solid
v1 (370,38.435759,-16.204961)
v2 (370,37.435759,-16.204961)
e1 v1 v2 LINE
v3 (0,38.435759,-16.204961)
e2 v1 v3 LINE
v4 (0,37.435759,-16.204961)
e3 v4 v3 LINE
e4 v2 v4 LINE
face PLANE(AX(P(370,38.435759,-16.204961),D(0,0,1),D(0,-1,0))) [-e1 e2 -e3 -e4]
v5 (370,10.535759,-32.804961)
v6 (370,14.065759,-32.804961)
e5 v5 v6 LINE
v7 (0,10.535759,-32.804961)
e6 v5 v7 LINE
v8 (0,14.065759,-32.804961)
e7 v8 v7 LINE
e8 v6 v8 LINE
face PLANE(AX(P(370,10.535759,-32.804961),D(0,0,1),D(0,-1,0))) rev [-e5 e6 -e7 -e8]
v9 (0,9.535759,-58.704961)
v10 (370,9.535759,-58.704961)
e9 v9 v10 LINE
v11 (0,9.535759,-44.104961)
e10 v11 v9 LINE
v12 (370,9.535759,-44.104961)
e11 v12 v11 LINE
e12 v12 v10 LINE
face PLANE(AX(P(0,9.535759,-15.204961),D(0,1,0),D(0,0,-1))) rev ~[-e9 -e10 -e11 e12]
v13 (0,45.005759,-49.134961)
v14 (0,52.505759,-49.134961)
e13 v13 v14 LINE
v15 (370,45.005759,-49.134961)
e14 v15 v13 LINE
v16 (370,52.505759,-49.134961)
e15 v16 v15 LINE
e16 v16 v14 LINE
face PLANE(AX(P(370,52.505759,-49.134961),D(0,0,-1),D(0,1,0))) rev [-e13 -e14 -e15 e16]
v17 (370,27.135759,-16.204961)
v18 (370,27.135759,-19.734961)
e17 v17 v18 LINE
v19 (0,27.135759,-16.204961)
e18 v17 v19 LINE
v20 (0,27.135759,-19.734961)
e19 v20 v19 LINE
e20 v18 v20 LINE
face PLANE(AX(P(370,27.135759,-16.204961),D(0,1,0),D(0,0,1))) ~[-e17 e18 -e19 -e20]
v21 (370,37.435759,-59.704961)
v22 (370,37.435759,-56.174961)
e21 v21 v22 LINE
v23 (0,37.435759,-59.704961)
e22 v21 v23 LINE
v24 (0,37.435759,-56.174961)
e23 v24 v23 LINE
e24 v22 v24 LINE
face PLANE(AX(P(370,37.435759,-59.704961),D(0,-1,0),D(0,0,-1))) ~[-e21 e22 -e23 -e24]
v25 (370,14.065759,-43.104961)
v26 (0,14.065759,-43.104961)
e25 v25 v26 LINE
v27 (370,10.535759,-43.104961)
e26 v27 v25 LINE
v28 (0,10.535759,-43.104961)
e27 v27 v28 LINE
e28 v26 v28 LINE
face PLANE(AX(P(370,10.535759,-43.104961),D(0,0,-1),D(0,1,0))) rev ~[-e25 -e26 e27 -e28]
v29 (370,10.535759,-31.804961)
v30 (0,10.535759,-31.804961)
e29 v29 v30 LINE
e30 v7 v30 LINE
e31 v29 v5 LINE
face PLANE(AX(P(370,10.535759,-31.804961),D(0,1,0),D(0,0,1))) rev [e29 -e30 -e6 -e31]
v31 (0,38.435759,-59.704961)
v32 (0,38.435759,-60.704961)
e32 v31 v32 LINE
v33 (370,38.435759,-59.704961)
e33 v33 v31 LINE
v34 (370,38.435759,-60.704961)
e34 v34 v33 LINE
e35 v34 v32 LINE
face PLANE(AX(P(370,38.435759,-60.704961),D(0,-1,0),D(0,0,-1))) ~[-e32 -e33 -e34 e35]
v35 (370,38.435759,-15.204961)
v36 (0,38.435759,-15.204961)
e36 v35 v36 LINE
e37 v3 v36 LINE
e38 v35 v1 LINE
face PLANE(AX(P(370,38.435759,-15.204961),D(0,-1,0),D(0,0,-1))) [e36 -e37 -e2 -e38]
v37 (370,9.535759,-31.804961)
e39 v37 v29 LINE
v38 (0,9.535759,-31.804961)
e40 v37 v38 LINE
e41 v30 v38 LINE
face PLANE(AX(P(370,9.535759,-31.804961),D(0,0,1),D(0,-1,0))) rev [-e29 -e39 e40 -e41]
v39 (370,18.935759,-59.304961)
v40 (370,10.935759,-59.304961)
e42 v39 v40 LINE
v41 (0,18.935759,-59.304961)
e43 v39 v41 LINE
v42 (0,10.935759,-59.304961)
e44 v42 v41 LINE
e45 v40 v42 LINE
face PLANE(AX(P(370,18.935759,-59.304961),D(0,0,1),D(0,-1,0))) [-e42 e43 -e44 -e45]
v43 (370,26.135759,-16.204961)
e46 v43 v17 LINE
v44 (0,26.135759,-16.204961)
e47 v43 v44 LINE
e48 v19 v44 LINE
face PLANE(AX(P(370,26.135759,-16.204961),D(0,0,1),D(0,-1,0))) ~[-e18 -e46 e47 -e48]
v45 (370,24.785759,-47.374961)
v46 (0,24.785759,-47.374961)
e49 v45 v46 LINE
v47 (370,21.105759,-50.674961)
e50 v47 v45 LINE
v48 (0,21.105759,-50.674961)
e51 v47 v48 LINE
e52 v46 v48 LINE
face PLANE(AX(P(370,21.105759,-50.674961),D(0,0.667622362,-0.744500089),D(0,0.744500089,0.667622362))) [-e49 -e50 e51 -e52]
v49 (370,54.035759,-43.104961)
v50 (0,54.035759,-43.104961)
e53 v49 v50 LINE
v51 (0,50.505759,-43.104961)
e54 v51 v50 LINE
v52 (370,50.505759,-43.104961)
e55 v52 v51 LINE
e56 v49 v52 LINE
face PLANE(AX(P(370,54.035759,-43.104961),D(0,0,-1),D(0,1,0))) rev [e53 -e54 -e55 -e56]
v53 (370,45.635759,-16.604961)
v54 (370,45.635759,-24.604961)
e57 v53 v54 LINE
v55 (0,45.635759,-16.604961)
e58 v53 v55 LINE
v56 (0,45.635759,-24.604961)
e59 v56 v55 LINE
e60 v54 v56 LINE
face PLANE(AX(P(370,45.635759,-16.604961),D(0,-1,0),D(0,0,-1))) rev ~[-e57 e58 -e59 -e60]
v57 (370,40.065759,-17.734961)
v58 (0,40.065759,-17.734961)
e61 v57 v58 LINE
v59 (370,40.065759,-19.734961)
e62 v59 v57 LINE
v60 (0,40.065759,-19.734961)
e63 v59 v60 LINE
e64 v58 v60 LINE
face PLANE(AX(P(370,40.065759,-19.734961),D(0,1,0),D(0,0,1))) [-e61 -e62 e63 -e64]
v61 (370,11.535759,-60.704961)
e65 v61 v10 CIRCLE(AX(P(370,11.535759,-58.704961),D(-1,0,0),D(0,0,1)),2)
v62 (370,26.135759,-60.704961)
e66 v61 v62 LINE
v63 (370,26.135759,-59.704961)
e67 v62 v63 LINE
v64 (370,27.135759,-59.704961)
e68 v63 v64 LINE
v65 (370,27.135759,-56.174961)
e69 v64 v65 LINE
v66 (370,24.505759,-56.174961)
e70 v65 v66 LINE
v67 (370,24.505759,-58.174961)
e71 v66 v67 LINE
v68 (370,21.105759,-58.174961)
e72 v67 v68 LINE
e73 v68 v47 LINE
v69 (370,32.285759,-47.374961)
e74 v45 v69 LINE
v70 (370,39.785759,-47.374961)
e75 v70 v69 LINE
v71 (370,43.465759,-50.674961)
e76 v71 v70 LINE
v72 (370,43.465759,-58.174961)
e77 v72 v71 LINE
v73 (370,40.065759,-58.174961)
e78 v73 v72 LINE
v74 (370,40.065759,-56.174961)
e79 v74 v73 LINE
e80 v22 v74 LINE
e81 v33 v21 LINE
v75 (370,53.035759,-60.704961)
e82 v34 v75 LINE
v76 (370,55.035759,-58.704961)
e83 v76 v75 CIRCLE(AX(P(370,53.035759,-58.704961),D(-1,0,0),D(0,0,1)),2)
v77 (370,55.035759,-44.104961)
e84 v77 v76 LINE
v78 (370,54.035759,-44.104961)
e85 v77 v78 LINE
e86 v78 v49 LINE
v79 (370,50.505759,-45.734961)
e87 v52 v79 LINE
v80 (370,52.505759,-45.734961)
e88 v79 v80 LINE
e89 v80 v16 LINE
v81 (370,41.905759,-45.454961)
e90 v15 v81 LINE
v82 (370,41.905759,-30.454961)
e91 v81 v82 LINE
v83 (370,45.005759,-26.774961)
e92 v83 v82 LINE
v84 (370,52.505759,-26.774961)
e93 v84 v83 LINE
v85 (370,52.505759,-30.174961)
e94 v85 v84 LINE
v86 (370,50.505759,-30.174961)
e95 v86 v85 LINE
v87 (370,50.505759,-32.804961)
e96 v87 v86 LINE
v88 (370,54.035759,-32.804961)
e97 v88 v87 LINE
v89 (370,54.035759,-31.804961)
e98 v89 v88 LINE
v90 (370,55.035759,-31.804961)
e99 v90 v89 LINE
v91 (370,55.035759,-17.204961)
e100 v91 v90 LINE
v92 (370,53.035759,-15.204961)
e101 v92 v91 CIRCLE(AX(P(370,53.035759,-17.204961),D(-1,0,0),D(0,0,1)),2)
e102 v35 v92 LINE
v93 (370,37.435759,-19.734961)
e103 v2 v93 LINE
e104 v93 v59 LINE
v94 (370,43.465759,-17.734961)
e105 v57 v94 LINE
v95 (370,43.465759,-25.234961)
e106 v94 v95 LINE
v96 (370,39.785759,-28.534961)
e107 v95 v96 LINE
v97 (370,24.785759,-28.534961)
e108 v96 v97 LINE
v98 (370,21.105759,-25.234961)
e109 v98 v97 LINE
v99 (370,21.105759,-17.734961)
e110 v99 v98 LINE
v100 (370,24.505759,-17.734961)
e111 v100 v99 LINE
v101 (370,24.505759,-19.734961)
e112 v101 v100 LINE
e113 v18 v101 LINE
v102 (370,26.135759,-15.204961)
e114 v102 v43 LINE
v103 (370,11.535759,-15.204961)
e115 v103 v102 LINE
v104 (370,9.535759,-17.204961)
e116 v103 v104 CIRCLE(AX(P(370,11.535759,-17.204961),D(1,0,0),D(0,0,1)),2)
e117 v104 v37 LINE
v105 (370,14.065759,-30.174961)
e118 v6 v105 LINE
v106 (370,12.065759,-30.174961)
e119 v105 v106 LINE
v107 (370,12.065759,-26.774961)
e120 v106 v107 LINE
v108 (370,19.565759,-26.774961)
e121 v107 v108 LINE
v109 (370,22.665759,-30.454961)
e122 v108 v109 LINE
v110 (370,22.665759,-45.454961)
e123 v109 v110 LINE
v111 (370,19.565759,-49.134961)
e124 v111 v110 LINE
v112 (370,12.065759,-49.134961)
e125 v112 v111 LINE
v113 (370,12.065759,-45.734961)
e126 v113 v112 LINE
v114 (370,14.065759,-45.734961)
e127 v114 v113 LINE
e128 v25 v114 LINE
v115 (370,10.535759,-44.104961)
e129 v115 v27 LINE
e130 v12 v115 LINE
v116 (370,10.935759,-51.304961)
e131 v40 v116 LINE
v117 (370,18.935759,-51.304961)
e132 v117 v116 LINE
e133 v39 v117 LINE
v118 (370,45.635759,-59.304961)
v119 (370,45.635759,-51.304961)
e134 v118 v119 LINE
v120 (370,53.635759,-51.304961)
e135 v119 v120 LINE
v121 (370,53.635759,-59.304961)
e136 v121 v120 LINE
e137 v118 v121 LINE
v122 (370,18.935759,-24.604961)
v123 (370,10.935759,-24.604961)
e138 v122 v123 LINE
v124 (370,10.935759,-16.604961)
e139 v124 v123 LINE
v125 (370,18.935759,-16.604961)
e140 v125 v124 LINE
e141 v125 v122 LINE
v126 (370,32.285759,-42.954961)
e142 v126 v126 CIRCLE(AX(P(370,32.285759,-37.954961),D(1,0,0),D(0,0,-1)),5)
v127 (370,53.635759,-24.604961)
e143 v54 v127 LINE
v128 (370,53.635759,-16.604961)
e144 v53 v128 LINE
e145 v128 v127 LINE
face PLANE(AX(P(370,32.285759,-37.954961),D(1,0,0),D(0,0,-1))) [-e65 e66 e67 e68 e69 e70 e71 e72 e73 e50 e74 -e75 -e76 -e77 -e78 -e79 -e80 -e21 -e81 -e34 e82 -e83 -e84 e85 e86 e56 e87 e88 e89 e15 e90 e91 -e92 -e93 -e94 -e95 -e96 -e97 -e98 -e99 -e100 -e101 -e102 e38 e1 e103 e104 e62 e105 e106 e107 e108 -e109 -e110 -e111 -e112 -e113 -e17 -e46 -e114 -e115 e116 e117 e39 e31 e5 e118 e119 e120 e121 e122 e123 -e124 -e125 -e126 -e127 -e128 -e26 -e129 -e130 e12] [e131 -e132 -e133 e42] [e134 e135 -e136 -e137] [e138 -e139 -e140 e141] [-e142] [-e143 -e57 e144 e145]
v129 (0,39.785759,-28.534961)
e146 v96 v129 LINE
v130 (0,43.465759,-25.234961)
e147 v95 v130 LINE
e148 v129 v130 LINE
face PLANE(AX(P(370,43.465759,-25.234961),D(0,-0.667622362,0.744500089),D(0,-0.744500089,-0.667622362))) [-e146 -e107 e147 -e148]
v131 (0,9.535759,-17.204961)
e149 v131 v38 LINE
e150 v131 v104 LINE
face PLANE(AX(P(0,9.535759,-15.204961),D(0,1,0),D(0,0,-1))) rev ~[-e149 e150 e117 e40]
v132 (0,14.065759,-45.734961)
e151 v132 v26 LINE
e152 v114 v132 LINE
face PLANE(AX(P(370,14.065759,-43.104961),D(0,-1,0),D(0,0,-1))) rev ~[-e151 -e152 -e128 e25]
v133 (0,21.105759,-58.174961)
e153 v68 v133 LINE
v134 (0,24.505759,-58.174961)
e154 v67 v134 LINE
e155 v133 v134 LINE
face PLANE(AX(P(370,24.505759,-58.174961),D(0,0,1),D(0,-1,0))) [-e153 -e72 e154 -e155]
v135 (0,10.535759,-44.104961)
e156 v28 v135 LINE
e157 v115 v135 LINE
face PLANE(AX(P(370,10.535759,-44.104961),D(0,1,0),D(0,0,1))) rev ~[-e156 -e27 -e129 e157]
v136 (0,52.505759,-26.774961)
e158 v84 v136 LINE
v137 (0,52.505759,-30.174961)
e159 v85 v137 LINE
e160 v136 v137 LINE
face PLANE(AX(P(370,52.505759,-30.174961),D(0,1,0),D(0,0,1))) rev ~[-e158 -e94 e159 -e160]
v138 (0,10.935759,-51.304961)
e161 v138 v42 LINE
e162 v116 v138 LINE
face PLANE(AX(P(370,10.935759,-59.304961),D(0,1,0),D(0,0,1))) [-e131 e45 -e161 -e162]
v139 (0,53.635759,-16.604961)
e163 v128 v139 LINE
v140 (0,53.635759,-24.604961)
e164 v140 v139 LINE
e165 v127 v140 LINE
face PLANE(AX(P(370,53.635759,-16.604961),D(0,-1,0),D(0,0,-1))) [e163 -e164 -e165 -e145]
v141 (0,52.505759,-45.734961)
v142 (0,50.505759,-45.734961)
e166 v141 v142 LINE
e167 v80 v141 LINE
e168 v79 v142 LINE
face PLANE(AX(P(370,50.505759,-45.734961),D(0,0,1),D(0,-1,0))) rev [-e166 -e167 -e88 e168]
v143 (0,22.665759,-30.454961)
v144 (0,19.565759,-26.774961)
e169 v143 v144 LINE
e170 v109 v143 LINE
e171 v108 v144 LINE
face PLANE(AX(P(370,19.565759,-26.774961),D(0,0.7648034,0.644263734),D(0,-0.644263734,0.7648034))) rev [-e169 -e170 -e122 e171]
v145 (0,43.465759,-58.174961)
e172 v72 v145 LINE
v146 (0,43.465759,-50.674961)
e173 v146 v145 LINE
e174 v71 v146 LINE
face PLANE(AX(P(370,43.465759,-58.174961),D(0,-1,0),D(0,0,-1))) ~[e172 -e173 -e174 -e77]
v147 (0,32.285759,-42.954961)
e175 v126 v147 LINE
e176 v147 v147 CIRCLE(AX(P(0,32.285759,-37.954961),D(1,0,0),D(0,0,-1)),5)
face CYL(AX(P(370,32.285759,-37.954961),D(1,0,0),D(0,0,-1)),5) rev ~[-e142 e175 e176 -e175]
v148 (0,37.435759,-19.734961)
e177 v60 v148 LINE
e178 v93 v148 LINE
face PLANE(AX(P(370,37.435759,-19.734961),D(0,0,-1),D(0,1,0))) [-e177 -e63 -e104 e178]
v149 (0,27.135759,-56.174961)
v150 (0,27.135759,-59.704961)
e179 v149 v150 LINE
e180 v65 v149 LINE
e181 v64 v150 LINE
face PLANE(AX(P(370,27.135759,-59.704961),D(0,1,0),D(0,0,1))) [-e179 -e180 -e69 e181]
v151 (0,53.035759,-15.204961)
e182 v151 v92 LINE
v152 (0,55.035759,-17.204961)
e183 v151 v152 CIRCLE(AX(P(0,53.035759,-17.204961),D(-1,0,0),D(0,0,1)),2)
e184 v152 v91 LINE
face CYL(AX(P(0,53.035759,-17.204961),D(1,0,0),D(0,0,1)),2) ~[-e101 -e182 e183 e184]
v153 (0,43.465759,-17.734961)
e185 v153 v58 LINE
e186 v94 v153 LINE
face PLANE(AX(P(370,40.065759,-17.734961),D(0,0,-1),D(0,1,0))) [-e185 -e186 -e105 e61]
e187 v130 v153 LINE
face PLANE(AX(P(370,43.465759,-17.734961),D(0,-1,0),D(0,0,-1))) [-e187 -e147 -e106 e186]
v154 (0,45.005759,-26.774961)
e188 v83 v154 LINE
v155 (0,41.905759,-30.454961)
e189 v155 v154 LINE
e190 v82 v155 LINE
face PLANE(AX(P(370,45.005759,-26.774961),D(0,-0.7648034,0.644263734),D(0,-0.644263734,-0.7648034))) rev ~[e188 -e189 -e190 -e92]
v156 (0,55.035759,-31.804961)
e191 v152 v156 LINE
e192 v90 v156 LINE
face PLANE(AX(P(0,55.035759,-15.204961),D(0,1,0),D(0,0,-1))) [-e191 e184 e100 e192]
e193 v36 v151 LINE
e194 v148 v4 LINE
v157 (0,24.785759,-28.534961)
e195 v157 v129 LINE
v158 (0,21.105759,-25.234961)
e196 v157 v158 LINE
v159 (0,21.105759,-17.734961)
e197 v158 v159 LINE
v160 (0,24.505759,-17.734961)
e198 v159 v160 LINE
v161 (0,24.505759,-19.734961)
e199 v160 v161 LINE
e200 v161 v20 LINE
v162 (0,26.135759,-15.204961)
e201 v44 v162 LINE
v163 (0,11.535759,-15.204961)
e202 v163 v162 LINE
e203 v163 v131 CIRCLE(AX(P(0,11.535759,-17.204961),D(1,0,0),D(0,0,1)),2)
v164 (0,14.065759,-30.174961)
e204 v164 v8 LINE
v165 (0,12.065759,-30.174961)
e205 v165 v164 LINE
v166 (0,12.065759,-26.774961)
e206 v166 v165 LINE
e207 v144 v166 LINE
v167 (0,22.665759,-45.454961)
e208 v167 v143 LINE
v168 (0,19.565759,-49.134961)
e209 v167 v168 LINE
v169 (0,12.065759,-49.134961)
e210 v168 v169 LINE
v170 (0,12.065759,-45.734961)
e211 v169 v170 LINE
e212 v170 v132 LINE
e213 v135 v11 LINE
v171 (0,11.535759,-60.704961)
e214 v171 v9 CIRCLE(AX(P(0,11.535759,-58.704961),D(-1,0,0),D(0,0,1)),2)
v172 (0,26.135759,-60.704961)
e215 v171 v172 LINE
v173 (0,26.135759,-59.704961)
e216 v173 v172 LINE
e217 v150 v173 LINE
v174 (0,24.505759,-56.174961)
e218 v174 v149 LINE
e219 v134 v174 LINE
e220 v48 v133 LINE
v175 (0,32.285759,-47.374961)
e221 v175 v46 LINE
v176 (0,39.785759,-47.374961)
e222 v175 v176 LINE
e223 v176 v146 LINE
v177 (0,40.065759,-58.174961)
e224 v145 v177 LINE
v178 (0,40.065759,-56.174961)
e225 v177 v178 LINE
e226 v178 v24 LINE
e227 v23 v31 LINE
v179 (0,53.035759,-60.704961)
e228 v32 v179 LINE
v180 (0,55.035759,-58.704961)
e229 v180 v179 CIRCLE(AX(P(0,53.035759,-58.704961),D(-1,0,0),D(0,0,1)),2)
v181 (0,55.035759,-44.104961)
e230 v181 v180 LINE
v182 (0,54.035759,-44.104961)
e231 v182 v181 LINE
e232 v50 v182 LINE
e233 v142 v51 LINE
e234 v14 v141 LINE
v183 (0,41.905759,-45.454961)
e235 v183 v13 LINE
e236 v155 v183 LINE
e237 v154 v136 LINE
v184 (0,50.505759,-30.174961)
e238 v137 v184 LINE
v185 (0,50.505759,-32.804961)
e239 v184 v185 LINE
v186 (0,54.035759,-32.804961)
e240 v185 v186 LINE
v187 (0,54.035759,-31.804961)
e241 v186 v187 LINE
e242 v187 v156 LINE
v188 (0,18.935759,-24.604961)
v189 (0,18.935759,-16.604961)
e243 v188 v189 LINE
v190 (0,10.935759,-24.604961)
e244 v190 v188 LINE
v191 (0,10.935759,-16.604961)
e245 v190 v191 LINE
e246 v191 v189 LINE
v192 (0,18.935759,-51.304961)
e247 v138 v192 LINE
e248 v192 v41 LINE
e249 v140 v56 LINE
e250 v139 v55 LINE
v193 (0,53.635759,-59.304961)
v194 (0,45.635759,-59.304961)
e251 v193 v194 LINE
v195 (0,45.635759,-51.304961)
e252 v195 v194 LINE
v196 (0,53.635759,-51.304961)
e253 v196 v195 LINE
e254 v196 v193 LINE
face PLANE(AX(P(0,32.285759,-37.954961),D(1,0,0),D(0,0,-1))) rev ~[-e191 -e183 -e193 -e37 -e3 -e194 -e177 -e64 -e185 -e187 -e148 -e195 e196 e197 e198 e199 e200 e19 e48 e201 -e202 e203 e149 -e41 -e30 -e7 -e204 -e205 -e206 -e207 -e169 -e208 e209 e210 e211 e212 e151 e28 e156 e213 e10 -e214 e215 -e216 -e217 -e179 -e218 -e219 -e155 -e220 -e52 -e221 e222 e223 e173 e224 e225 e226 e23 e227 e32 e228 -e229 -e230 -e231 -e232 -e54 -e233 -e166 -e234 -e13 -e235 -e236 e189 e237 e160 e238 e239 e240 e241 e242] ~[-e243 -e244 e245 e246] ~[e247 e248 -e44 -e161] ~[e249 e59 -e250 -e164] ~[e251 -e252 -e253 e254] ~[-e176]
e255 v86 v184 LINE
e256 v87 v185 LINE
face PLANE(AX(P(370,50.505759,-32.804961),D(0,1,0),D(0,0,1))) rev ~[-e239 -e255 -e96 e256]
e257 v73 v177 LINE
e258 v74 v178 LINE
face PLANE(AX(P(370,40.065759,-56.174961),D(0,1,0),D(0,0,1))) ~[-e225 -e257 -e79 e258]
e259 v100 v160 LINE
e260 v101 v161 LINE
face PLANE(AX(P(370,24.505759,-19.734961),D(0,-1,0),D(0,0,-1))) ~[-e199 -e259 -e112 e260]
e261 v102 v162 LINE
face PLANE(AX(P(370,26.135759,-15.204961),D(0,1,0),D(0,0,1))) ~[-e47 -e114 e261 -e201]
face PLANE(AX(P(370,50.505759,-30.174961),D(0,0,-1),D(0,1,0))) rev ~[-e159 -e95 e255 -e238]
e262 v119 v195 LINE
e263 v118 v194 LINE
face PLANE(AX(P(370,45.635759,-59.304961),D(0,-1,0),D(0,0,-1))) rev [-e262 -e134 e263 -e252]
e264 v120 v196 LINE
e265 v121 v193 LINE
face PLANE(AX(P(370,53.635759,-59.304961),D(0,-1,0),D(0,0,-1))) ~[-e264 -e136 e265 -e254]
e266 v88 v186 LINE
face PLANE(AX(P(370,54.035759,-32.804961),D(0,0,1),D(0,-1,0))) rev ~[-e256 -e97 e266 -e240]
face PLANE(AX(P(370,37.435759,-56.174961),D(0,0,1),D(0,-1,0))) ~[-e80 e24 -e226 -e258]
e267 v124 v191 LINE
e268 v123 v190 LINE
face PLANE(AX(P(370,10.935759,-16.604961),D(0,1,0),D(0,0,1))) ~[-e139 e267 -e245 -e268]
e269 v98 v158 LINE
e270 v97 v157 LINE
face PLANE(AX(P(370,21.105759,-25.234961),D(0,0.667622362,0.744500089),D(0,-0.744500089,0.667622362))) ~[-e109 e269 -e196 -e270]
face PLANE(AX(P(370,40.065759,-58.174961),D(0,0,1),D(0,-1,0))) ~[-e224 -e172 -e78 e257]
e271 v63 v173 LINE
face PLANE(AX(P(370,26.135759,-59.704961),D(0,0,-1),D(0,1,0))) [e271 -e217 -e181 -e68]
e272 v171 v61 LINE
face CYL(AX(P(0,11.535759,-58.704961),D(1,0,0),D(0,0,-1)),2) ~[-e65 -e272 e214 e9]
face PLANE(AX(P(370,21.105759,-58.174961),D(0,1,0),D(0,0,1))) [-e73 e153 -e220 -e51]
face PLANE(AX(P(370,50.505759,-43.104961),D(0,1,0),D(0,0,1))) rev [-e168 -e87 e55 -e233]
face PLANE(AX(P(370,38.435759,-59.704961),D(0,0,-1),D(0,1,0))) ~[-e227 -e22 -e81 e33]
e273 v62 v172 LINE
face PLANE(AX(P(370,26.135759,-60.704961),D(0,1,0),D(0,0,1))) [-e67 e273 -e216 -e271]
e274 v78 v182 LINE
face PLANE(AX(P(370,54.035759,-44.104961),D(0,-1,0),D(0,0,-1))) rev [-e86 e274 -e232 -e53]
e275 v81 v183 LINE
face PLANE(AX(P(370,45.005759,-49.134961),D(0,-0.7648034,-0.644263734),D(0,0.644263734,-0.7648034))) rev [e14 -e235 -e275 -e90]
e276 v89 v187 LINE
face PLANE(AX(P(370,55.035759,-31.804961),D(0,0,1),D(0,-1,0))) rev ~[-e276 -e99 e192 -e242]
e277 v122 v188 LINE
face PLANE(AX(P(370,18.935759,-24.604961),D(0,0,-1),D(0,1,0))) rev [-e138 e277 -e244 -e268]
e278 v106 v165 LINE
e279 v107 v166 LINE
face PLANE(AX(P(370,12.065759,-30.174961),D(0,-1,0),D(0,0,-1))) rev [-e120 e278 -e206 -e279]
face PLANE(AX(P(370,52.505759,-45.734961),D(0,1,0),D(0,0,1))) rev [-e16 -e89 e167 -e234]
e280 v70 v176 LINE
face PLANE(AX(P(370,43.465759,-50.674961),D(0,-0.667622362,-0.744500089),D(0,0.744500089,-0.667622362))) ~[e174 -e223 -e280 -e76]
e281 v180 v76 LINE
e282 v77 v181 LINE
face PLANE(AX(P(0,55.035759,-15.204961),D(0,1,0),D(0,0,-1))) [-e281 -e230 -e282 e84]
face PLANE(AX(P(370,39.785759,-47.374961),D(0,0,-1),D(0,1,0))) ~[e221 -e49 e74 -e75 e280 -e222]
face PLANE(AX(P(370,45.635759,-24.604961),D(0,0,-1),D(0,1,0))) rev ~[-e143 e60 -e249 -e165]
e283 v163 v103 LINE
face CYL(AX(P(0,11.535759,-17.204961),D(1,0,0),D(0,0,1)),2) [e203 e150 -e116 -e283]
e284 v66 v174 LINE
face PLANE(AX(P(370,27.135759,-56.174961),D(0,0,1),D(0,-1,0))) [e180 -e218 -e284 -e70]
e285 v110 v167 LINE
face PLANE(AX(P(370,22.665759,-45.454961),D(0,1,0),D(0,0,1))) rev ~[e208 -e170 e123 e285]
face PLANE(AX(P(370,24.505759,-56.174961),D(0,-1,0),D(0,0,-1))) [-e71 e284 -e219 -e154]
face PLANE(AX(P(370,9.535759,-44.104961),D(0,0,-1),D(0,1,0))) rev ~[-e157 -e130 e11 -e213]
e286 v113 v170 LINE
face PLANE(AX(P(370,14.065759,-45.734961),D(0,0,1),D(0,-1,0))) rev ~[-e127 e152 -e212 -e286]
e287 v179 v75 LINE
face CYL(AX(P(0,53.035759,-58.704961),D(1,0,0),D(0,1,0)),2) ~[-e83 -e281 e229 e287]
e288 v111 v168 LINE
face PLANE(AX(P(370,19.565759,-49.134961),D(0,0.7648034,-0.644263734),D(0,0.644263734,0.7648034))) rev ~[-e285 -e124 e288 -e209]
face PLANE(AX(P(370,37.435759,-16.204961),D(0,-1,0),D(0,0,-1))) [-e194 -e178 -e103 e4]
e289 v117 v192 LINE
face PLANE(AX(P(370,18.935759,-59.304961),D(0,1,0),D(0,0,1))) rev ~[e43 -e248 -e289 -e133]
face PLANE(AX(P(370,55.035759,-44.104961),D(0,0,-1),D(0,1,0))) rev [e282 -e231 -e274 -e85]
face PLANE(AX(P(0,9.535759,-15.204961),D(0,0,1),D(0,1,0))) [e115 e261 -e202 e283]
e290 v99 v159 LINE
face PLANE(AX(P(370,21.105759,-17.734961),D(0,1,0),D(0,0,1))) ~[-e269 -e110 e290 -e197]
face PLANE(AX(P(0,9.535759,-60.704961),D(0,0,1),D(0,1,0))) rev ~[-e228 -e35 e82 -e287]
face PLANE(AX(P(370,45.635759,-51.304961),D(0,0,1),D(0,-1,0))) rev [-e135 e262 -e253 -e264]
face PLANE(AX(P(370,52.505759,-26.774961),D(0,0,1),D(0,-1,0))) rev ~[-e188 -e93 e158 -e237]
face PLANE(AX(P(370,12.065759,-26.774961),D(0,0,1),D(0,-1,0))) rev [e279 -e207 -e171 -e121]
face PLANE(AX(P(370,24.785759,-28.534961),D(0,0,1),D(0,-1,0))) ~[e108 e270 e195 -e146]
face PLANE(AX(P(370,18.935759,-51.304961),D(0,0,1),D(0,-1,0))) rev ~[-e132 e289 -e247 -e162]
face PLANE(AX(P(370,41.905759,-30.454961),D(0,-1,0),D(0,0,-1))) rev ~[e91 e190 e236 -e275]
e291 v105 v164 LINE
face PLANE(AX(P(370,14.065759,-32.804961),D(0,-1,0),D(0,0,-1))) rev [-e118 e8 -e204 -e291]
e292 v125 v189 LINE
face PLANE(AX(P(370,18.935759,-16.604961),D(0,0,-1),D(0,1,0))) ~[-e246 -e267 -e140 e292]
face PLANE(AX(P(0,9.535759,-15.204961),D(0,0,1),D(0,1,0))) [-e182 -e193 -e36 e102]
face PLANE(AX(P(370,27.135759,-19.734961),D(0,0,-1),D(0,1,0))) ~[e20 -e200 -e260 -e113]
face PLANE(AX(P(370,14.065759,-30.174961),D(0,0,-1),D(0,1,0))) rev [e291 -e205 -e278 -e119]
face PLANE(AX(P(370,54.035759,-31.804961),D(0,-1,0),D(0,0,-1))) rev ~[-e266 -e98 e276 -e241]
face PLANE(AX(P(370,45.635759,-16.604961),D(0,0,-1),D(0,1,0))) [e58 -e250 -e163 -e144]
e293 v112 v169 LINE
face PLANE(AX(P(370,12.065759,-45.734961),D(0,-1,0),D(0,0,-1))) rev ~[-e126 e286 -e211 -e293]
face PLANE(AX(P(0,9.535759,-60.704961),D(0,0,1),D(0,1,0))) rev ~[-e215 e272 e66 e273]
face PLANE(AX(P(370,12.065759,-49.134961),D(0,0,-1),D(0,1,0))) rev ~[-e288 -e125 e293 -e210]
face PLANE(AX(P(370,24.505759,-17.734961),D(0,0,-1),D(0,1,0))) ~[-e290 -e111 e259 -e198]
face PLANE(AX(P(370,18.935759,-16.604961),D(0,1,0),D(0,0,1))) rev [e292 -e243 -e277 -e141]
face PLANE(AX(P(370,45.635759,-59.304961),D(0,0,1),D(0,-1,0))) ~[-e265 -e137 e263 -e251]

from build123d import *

# Parameters (mm, degrees)
SKETCH_1_W               = 45.5
SKETCH_1_H               = 45.5
EXTRUDE_1_DEPTH          = 370
CUT_EXTRUDE_1_REACH      = 380.964
SKETCH_2_W               = 8
SKETCH_2_H               = 8
MIRROR_2_COPY_1_REACH    = 380.964
MIRROR_2_COPY_1_SKETCH_W = 8
MIRROR_2_COPY_1_SKETCH_H = 8
CUT_EXTRUDE_2_REACH      = 380.964
MIRROR_4_COPY_1_REACH    = 380.964
FILLET_1_R               = 2
CUT_EXTRUDE_4_REACH      = 380.964
SKETCH_6_R               = 5


with BuildPart() as part:
    # 草图1 → 凸台-拉伸1 (new body)
    with BuildSketch(Plane(origin=(0, 0, 0), x_dir=(0, 0, -1), z_dir=(1, 0, 0))):
        with Locations((37.954960836, 32.285758607)):
            Rectangle(SKETCH_1_W, SKETCH_1_H)
    extrude(amount=EXTRUDE_1_DEPTH)

    # 草图2 → 切除-拉伸1 (cut, up to next)
    with BuildSketch(Plane(origin=(370, 0, 0), x_dir=(0, 0, -1), z_dir=(1, 0, 0)), mode=Mode.PRIVATE) as cut_extrude_1_sk1:
        Polygon((31.804960836, 55.035758607), (31.804960836, 54.035758607), (32.804960836, 54.035758607), (32.804960836, 50.505758607), (30.174960836, 50.505758607), (30.174960836, 52.505758607), (26.774960836, 52.505758607), (26.774960836, 45.005758607), (30.454960836, 41.905758607), (37.954960836, 41.905758607), (37.954960836, 55.035758607), align=None)
    cut_extrude_1_tool1 = extrude(cut_extrude_1_sk1.sketch, amount=-CUT_EXTRUDE_1_REACH, mode=Mode.PRIVATE) & part.part
    # 草图2 → 切除-拉伸1 (cut, up to next)
    with BuildSketch(Plane(origin=(370, 0, 0), x_dir=(0, 0, -1), z_dir=(1, 0, 0)), mode=Mode.PRIVATE) as cut_extrude_1_sk2:
        with Locations((20.604960836, 49.635758607)):
            Rectangle(SKETCH_2_W, SKETCH_2_H)
    cut_extrude_1_tool2 = extrude(cut_extrude_1_sk2.sketch, amount=-CUT_EXTRUDE_1_REACH, mode=Mode.PRIVATE) & part.part
    cut_extrude_1_1 = cut_extrude_1_tool1.solids().sort_by_distance((370, 47.983788, -32.930174))[0]
    add(cut_extrude_1_1, mode=Mode.SUBTRACT)
    cut_extrude_1_2 = cut_extrude_1_tool2.solids().sort_by_distance((370, 49.635759, -20.604961))[0]
    add(cut_extrude_1_2, mode=Mode.SUBTRACT)
    cut_extrude_1 = cut_extrude_1_1 + cut_extrude_1_2  # 切除-拉伸1 as one shape, for the pattern or mirror that repeats it

    # 镜向1: 切除-拉伸1 across plane
    add(cut_extrude_1.mirror(Plane(origin=(0, 0, -37.954960836), x_dir=(1, 0, 0), z_dir=(0, 0, -1))), mode=Mode.SUBTRACT)

    # 镜向2: 切除-拉伸1 across plane
    add(cut_extrude_1.mirror(Plane(origin=(0, 32.285758607, 0), x_dir=(0, 0, 1), z_dir=(0, -1, 0))), mode=Mode.SUBTRACT)

    # 镜向2 copy 1 sketch → 镜向2 copy 1 (cut, up to next)
    with BuildSketch(Plane(origin=(370, 64.571517214, -75.909921671), x_dir=(0, 0, 1), z_dir=(1, 0, 0)), mode=Mode.PRIVATE) as mirror_2_copy_1_sk1:
        Polygon((31.804960836, 55.035758607), (31.804960836, 54.035758607), (32.804960836, 54.035758607), (32.804960836, 50.505758607), (30.174960836, 50.505758607), (30.174960836, 52.505758607), (26.774960836, 52.505758607), (26.774960836, 45.005758607), (30.454960836, 41.905758607), (37.954960836, 41.905758607), (37.954960836, 55.035758607), align=None)
    mirror_2_copy_1_tool1 = extrude(mirror_2_copy_1_sk1.sketch, amount=-MIRROR_2_COPY_1_REACH, mode=Mode.PRIVATE) & part.part
    # 镜向2 copy 1 sketch → 镜向2 copy 1 (cut, up to next)
    with BuildSketch(Plane(origin=(370, 64.571517214, -75.909921671), x_dir=(0, 0, 1), z_dir=(1, 0, 0)), mode=Mode.PRIVATE) as mirror_2_copy_1_sk2:
        with Locations((20.604960836, 49.635758607)):
            Rectangle(MIRROR_2_COPY_1_SKETCH_W, MIRROR_2_COPY_1_SKETCH_H)
    mirror_2_copy_1_tool2 = extrude(mirror_2_copy_1_sk2.sketch, amount=-MIRROR_2_COPY_1_REACH, mode=Mode.PRIVATE) & part.part
    add(mirror_2_copy_1_tool1.solids().sort_by_distance((370, 16.587729214, -42.979747671))[0], mode=Mode.SUBTRACT)
    add(mirror_2_copy_1_tool2.solids().sort_by_distance((370, 14.935758214, -55.304960671))[0], mode=Mode.SUBTRACT)

    # 草图3 → 切除-拉伸2 (cut, up to next)
    with BuildSketch(Plane(origin=(370, 0, 0), x_dir=(0, 0, -1), z_dir=(1, 0, 0)), mode=Mode.PRIVATE) as cut_extrude_2_sk1:
        Polygon((15.204960836, 38.435758607), (16.204960836, 38.435758607), (16.204960836, 37.435758607), (19.734960836, 37.435758607), (19.734960836, 40.065758607), (17.734960836, 40.065758607), (17.734960836, 43.465758607), (25.234960836, 43.465758607), (28.534960836, 39.785758607), (28.534960836, 32.285758607), (15.204960836, 32.285758607), align=None)
    cut_extrude_2_tool1 = extrude(cut_extrude_2_sk1.sketch, amount=-CUT_EXTRUDE_2_REACH, mode=Mode.PRIVATE) & part.part
    cut_extrude_2 = cut_extrude_2_tool1.solids().sort_by_distance((370, 37.306091, -22.347242))[0]
    add(cut_extrude_2, mode=Mode.SUBTRACT)

    # 镜向3: 切除-拉伸2 across plane
    add(cut_extrude_2.mirror(Plane(origin=(0, 32.285758607, 0), x_dir=(0, 0, 1), z_dir=(0, -1, 0))), mode=Mode.SUBTRACT)

    # 镜向4: 切除-拉伸2 across plane
    add(cut_extrude_2.mirror(Plane(origin=(0, 0, -37.954960836), x_dir=(1, 0, 0), z_dir=(0, 0, -1))), mode=Mode.SUBTRACT)

    # 镜向4 copy 1 sketch → 镜向4 copy 1 (cut, up to next)
    with BuildSketch(Plane(origin=(370, 64.571517214, -75.909921671), x_dir=(0, 0, 1), z_dir=(1, 0, 0)), mode=Mode.PRIVATE) as mirror_4_copy_1_sk1:
        Polygon((15.204960836, 38.435758607), (16.204960836, 38.435758607), (16.204960836, 37.435758607), (19.734960836, 37.435758607), (19.734960836, 40.065758607), (17.734960836, 40.065758607), (17.734960836, 43.465758607), (25.234960836, 43.465758607), (28.534960836, 39.785758607), (28.534960836, 32.285758607), (15.204960836, 32.285758607), align=None)
    mirror_4_copy_1_tool1 = extrude(mirror_4_copy_1_sk1.sketch, amount=-MIRROR_4_COPY_1_REACH, mode=Mode.PRIVATE) & part.part
    add(mirror_4_copy_1_tool1.solids().sort_by_distance((370, 27.265426214, -53.562679671))[0], mode=Mode.SUBTRACT)

    # 圆角1
    fillet_1_edges = [part.edges().sort_by_distance(p)[0] for p in [
        (185, 55.035758607, -15.204960836),
        (185, 55.035758607, -60.704960836),
        (185, 9.535758607, -60.704960836),
        (185, 9.535758607, -15.204960836),
    ]]
    fillet(fillet_1_edges, radius=FILLET_1_R)

    # 草图6 → 切除-拉伸4 (cut, up to next)
    with BuildSketch(Plane(origin=(370, 0, 0), x_dir=(0, 0, -1), z_dir=(1, 0, 0)), mode=Mode.PRIVATE) as cut_extrude_4_sk1:
        with Locations((37.954960836, 32.285758607)):
            Circle(SKETCH_6_R)
    cut_extrude_4_tool1 = extrude(cut_extrude_4_sk1.sketch, amount=-CUT_EXTRUDE_4_REACH, mode=Mode.PRIVATE) & part.part
    add(cut_extrude_4_tool1.solids().sort_by_distance((370, 32.285759, -37.954961))[0], mode=Mode.SUBTRACT)


solid = part.part
